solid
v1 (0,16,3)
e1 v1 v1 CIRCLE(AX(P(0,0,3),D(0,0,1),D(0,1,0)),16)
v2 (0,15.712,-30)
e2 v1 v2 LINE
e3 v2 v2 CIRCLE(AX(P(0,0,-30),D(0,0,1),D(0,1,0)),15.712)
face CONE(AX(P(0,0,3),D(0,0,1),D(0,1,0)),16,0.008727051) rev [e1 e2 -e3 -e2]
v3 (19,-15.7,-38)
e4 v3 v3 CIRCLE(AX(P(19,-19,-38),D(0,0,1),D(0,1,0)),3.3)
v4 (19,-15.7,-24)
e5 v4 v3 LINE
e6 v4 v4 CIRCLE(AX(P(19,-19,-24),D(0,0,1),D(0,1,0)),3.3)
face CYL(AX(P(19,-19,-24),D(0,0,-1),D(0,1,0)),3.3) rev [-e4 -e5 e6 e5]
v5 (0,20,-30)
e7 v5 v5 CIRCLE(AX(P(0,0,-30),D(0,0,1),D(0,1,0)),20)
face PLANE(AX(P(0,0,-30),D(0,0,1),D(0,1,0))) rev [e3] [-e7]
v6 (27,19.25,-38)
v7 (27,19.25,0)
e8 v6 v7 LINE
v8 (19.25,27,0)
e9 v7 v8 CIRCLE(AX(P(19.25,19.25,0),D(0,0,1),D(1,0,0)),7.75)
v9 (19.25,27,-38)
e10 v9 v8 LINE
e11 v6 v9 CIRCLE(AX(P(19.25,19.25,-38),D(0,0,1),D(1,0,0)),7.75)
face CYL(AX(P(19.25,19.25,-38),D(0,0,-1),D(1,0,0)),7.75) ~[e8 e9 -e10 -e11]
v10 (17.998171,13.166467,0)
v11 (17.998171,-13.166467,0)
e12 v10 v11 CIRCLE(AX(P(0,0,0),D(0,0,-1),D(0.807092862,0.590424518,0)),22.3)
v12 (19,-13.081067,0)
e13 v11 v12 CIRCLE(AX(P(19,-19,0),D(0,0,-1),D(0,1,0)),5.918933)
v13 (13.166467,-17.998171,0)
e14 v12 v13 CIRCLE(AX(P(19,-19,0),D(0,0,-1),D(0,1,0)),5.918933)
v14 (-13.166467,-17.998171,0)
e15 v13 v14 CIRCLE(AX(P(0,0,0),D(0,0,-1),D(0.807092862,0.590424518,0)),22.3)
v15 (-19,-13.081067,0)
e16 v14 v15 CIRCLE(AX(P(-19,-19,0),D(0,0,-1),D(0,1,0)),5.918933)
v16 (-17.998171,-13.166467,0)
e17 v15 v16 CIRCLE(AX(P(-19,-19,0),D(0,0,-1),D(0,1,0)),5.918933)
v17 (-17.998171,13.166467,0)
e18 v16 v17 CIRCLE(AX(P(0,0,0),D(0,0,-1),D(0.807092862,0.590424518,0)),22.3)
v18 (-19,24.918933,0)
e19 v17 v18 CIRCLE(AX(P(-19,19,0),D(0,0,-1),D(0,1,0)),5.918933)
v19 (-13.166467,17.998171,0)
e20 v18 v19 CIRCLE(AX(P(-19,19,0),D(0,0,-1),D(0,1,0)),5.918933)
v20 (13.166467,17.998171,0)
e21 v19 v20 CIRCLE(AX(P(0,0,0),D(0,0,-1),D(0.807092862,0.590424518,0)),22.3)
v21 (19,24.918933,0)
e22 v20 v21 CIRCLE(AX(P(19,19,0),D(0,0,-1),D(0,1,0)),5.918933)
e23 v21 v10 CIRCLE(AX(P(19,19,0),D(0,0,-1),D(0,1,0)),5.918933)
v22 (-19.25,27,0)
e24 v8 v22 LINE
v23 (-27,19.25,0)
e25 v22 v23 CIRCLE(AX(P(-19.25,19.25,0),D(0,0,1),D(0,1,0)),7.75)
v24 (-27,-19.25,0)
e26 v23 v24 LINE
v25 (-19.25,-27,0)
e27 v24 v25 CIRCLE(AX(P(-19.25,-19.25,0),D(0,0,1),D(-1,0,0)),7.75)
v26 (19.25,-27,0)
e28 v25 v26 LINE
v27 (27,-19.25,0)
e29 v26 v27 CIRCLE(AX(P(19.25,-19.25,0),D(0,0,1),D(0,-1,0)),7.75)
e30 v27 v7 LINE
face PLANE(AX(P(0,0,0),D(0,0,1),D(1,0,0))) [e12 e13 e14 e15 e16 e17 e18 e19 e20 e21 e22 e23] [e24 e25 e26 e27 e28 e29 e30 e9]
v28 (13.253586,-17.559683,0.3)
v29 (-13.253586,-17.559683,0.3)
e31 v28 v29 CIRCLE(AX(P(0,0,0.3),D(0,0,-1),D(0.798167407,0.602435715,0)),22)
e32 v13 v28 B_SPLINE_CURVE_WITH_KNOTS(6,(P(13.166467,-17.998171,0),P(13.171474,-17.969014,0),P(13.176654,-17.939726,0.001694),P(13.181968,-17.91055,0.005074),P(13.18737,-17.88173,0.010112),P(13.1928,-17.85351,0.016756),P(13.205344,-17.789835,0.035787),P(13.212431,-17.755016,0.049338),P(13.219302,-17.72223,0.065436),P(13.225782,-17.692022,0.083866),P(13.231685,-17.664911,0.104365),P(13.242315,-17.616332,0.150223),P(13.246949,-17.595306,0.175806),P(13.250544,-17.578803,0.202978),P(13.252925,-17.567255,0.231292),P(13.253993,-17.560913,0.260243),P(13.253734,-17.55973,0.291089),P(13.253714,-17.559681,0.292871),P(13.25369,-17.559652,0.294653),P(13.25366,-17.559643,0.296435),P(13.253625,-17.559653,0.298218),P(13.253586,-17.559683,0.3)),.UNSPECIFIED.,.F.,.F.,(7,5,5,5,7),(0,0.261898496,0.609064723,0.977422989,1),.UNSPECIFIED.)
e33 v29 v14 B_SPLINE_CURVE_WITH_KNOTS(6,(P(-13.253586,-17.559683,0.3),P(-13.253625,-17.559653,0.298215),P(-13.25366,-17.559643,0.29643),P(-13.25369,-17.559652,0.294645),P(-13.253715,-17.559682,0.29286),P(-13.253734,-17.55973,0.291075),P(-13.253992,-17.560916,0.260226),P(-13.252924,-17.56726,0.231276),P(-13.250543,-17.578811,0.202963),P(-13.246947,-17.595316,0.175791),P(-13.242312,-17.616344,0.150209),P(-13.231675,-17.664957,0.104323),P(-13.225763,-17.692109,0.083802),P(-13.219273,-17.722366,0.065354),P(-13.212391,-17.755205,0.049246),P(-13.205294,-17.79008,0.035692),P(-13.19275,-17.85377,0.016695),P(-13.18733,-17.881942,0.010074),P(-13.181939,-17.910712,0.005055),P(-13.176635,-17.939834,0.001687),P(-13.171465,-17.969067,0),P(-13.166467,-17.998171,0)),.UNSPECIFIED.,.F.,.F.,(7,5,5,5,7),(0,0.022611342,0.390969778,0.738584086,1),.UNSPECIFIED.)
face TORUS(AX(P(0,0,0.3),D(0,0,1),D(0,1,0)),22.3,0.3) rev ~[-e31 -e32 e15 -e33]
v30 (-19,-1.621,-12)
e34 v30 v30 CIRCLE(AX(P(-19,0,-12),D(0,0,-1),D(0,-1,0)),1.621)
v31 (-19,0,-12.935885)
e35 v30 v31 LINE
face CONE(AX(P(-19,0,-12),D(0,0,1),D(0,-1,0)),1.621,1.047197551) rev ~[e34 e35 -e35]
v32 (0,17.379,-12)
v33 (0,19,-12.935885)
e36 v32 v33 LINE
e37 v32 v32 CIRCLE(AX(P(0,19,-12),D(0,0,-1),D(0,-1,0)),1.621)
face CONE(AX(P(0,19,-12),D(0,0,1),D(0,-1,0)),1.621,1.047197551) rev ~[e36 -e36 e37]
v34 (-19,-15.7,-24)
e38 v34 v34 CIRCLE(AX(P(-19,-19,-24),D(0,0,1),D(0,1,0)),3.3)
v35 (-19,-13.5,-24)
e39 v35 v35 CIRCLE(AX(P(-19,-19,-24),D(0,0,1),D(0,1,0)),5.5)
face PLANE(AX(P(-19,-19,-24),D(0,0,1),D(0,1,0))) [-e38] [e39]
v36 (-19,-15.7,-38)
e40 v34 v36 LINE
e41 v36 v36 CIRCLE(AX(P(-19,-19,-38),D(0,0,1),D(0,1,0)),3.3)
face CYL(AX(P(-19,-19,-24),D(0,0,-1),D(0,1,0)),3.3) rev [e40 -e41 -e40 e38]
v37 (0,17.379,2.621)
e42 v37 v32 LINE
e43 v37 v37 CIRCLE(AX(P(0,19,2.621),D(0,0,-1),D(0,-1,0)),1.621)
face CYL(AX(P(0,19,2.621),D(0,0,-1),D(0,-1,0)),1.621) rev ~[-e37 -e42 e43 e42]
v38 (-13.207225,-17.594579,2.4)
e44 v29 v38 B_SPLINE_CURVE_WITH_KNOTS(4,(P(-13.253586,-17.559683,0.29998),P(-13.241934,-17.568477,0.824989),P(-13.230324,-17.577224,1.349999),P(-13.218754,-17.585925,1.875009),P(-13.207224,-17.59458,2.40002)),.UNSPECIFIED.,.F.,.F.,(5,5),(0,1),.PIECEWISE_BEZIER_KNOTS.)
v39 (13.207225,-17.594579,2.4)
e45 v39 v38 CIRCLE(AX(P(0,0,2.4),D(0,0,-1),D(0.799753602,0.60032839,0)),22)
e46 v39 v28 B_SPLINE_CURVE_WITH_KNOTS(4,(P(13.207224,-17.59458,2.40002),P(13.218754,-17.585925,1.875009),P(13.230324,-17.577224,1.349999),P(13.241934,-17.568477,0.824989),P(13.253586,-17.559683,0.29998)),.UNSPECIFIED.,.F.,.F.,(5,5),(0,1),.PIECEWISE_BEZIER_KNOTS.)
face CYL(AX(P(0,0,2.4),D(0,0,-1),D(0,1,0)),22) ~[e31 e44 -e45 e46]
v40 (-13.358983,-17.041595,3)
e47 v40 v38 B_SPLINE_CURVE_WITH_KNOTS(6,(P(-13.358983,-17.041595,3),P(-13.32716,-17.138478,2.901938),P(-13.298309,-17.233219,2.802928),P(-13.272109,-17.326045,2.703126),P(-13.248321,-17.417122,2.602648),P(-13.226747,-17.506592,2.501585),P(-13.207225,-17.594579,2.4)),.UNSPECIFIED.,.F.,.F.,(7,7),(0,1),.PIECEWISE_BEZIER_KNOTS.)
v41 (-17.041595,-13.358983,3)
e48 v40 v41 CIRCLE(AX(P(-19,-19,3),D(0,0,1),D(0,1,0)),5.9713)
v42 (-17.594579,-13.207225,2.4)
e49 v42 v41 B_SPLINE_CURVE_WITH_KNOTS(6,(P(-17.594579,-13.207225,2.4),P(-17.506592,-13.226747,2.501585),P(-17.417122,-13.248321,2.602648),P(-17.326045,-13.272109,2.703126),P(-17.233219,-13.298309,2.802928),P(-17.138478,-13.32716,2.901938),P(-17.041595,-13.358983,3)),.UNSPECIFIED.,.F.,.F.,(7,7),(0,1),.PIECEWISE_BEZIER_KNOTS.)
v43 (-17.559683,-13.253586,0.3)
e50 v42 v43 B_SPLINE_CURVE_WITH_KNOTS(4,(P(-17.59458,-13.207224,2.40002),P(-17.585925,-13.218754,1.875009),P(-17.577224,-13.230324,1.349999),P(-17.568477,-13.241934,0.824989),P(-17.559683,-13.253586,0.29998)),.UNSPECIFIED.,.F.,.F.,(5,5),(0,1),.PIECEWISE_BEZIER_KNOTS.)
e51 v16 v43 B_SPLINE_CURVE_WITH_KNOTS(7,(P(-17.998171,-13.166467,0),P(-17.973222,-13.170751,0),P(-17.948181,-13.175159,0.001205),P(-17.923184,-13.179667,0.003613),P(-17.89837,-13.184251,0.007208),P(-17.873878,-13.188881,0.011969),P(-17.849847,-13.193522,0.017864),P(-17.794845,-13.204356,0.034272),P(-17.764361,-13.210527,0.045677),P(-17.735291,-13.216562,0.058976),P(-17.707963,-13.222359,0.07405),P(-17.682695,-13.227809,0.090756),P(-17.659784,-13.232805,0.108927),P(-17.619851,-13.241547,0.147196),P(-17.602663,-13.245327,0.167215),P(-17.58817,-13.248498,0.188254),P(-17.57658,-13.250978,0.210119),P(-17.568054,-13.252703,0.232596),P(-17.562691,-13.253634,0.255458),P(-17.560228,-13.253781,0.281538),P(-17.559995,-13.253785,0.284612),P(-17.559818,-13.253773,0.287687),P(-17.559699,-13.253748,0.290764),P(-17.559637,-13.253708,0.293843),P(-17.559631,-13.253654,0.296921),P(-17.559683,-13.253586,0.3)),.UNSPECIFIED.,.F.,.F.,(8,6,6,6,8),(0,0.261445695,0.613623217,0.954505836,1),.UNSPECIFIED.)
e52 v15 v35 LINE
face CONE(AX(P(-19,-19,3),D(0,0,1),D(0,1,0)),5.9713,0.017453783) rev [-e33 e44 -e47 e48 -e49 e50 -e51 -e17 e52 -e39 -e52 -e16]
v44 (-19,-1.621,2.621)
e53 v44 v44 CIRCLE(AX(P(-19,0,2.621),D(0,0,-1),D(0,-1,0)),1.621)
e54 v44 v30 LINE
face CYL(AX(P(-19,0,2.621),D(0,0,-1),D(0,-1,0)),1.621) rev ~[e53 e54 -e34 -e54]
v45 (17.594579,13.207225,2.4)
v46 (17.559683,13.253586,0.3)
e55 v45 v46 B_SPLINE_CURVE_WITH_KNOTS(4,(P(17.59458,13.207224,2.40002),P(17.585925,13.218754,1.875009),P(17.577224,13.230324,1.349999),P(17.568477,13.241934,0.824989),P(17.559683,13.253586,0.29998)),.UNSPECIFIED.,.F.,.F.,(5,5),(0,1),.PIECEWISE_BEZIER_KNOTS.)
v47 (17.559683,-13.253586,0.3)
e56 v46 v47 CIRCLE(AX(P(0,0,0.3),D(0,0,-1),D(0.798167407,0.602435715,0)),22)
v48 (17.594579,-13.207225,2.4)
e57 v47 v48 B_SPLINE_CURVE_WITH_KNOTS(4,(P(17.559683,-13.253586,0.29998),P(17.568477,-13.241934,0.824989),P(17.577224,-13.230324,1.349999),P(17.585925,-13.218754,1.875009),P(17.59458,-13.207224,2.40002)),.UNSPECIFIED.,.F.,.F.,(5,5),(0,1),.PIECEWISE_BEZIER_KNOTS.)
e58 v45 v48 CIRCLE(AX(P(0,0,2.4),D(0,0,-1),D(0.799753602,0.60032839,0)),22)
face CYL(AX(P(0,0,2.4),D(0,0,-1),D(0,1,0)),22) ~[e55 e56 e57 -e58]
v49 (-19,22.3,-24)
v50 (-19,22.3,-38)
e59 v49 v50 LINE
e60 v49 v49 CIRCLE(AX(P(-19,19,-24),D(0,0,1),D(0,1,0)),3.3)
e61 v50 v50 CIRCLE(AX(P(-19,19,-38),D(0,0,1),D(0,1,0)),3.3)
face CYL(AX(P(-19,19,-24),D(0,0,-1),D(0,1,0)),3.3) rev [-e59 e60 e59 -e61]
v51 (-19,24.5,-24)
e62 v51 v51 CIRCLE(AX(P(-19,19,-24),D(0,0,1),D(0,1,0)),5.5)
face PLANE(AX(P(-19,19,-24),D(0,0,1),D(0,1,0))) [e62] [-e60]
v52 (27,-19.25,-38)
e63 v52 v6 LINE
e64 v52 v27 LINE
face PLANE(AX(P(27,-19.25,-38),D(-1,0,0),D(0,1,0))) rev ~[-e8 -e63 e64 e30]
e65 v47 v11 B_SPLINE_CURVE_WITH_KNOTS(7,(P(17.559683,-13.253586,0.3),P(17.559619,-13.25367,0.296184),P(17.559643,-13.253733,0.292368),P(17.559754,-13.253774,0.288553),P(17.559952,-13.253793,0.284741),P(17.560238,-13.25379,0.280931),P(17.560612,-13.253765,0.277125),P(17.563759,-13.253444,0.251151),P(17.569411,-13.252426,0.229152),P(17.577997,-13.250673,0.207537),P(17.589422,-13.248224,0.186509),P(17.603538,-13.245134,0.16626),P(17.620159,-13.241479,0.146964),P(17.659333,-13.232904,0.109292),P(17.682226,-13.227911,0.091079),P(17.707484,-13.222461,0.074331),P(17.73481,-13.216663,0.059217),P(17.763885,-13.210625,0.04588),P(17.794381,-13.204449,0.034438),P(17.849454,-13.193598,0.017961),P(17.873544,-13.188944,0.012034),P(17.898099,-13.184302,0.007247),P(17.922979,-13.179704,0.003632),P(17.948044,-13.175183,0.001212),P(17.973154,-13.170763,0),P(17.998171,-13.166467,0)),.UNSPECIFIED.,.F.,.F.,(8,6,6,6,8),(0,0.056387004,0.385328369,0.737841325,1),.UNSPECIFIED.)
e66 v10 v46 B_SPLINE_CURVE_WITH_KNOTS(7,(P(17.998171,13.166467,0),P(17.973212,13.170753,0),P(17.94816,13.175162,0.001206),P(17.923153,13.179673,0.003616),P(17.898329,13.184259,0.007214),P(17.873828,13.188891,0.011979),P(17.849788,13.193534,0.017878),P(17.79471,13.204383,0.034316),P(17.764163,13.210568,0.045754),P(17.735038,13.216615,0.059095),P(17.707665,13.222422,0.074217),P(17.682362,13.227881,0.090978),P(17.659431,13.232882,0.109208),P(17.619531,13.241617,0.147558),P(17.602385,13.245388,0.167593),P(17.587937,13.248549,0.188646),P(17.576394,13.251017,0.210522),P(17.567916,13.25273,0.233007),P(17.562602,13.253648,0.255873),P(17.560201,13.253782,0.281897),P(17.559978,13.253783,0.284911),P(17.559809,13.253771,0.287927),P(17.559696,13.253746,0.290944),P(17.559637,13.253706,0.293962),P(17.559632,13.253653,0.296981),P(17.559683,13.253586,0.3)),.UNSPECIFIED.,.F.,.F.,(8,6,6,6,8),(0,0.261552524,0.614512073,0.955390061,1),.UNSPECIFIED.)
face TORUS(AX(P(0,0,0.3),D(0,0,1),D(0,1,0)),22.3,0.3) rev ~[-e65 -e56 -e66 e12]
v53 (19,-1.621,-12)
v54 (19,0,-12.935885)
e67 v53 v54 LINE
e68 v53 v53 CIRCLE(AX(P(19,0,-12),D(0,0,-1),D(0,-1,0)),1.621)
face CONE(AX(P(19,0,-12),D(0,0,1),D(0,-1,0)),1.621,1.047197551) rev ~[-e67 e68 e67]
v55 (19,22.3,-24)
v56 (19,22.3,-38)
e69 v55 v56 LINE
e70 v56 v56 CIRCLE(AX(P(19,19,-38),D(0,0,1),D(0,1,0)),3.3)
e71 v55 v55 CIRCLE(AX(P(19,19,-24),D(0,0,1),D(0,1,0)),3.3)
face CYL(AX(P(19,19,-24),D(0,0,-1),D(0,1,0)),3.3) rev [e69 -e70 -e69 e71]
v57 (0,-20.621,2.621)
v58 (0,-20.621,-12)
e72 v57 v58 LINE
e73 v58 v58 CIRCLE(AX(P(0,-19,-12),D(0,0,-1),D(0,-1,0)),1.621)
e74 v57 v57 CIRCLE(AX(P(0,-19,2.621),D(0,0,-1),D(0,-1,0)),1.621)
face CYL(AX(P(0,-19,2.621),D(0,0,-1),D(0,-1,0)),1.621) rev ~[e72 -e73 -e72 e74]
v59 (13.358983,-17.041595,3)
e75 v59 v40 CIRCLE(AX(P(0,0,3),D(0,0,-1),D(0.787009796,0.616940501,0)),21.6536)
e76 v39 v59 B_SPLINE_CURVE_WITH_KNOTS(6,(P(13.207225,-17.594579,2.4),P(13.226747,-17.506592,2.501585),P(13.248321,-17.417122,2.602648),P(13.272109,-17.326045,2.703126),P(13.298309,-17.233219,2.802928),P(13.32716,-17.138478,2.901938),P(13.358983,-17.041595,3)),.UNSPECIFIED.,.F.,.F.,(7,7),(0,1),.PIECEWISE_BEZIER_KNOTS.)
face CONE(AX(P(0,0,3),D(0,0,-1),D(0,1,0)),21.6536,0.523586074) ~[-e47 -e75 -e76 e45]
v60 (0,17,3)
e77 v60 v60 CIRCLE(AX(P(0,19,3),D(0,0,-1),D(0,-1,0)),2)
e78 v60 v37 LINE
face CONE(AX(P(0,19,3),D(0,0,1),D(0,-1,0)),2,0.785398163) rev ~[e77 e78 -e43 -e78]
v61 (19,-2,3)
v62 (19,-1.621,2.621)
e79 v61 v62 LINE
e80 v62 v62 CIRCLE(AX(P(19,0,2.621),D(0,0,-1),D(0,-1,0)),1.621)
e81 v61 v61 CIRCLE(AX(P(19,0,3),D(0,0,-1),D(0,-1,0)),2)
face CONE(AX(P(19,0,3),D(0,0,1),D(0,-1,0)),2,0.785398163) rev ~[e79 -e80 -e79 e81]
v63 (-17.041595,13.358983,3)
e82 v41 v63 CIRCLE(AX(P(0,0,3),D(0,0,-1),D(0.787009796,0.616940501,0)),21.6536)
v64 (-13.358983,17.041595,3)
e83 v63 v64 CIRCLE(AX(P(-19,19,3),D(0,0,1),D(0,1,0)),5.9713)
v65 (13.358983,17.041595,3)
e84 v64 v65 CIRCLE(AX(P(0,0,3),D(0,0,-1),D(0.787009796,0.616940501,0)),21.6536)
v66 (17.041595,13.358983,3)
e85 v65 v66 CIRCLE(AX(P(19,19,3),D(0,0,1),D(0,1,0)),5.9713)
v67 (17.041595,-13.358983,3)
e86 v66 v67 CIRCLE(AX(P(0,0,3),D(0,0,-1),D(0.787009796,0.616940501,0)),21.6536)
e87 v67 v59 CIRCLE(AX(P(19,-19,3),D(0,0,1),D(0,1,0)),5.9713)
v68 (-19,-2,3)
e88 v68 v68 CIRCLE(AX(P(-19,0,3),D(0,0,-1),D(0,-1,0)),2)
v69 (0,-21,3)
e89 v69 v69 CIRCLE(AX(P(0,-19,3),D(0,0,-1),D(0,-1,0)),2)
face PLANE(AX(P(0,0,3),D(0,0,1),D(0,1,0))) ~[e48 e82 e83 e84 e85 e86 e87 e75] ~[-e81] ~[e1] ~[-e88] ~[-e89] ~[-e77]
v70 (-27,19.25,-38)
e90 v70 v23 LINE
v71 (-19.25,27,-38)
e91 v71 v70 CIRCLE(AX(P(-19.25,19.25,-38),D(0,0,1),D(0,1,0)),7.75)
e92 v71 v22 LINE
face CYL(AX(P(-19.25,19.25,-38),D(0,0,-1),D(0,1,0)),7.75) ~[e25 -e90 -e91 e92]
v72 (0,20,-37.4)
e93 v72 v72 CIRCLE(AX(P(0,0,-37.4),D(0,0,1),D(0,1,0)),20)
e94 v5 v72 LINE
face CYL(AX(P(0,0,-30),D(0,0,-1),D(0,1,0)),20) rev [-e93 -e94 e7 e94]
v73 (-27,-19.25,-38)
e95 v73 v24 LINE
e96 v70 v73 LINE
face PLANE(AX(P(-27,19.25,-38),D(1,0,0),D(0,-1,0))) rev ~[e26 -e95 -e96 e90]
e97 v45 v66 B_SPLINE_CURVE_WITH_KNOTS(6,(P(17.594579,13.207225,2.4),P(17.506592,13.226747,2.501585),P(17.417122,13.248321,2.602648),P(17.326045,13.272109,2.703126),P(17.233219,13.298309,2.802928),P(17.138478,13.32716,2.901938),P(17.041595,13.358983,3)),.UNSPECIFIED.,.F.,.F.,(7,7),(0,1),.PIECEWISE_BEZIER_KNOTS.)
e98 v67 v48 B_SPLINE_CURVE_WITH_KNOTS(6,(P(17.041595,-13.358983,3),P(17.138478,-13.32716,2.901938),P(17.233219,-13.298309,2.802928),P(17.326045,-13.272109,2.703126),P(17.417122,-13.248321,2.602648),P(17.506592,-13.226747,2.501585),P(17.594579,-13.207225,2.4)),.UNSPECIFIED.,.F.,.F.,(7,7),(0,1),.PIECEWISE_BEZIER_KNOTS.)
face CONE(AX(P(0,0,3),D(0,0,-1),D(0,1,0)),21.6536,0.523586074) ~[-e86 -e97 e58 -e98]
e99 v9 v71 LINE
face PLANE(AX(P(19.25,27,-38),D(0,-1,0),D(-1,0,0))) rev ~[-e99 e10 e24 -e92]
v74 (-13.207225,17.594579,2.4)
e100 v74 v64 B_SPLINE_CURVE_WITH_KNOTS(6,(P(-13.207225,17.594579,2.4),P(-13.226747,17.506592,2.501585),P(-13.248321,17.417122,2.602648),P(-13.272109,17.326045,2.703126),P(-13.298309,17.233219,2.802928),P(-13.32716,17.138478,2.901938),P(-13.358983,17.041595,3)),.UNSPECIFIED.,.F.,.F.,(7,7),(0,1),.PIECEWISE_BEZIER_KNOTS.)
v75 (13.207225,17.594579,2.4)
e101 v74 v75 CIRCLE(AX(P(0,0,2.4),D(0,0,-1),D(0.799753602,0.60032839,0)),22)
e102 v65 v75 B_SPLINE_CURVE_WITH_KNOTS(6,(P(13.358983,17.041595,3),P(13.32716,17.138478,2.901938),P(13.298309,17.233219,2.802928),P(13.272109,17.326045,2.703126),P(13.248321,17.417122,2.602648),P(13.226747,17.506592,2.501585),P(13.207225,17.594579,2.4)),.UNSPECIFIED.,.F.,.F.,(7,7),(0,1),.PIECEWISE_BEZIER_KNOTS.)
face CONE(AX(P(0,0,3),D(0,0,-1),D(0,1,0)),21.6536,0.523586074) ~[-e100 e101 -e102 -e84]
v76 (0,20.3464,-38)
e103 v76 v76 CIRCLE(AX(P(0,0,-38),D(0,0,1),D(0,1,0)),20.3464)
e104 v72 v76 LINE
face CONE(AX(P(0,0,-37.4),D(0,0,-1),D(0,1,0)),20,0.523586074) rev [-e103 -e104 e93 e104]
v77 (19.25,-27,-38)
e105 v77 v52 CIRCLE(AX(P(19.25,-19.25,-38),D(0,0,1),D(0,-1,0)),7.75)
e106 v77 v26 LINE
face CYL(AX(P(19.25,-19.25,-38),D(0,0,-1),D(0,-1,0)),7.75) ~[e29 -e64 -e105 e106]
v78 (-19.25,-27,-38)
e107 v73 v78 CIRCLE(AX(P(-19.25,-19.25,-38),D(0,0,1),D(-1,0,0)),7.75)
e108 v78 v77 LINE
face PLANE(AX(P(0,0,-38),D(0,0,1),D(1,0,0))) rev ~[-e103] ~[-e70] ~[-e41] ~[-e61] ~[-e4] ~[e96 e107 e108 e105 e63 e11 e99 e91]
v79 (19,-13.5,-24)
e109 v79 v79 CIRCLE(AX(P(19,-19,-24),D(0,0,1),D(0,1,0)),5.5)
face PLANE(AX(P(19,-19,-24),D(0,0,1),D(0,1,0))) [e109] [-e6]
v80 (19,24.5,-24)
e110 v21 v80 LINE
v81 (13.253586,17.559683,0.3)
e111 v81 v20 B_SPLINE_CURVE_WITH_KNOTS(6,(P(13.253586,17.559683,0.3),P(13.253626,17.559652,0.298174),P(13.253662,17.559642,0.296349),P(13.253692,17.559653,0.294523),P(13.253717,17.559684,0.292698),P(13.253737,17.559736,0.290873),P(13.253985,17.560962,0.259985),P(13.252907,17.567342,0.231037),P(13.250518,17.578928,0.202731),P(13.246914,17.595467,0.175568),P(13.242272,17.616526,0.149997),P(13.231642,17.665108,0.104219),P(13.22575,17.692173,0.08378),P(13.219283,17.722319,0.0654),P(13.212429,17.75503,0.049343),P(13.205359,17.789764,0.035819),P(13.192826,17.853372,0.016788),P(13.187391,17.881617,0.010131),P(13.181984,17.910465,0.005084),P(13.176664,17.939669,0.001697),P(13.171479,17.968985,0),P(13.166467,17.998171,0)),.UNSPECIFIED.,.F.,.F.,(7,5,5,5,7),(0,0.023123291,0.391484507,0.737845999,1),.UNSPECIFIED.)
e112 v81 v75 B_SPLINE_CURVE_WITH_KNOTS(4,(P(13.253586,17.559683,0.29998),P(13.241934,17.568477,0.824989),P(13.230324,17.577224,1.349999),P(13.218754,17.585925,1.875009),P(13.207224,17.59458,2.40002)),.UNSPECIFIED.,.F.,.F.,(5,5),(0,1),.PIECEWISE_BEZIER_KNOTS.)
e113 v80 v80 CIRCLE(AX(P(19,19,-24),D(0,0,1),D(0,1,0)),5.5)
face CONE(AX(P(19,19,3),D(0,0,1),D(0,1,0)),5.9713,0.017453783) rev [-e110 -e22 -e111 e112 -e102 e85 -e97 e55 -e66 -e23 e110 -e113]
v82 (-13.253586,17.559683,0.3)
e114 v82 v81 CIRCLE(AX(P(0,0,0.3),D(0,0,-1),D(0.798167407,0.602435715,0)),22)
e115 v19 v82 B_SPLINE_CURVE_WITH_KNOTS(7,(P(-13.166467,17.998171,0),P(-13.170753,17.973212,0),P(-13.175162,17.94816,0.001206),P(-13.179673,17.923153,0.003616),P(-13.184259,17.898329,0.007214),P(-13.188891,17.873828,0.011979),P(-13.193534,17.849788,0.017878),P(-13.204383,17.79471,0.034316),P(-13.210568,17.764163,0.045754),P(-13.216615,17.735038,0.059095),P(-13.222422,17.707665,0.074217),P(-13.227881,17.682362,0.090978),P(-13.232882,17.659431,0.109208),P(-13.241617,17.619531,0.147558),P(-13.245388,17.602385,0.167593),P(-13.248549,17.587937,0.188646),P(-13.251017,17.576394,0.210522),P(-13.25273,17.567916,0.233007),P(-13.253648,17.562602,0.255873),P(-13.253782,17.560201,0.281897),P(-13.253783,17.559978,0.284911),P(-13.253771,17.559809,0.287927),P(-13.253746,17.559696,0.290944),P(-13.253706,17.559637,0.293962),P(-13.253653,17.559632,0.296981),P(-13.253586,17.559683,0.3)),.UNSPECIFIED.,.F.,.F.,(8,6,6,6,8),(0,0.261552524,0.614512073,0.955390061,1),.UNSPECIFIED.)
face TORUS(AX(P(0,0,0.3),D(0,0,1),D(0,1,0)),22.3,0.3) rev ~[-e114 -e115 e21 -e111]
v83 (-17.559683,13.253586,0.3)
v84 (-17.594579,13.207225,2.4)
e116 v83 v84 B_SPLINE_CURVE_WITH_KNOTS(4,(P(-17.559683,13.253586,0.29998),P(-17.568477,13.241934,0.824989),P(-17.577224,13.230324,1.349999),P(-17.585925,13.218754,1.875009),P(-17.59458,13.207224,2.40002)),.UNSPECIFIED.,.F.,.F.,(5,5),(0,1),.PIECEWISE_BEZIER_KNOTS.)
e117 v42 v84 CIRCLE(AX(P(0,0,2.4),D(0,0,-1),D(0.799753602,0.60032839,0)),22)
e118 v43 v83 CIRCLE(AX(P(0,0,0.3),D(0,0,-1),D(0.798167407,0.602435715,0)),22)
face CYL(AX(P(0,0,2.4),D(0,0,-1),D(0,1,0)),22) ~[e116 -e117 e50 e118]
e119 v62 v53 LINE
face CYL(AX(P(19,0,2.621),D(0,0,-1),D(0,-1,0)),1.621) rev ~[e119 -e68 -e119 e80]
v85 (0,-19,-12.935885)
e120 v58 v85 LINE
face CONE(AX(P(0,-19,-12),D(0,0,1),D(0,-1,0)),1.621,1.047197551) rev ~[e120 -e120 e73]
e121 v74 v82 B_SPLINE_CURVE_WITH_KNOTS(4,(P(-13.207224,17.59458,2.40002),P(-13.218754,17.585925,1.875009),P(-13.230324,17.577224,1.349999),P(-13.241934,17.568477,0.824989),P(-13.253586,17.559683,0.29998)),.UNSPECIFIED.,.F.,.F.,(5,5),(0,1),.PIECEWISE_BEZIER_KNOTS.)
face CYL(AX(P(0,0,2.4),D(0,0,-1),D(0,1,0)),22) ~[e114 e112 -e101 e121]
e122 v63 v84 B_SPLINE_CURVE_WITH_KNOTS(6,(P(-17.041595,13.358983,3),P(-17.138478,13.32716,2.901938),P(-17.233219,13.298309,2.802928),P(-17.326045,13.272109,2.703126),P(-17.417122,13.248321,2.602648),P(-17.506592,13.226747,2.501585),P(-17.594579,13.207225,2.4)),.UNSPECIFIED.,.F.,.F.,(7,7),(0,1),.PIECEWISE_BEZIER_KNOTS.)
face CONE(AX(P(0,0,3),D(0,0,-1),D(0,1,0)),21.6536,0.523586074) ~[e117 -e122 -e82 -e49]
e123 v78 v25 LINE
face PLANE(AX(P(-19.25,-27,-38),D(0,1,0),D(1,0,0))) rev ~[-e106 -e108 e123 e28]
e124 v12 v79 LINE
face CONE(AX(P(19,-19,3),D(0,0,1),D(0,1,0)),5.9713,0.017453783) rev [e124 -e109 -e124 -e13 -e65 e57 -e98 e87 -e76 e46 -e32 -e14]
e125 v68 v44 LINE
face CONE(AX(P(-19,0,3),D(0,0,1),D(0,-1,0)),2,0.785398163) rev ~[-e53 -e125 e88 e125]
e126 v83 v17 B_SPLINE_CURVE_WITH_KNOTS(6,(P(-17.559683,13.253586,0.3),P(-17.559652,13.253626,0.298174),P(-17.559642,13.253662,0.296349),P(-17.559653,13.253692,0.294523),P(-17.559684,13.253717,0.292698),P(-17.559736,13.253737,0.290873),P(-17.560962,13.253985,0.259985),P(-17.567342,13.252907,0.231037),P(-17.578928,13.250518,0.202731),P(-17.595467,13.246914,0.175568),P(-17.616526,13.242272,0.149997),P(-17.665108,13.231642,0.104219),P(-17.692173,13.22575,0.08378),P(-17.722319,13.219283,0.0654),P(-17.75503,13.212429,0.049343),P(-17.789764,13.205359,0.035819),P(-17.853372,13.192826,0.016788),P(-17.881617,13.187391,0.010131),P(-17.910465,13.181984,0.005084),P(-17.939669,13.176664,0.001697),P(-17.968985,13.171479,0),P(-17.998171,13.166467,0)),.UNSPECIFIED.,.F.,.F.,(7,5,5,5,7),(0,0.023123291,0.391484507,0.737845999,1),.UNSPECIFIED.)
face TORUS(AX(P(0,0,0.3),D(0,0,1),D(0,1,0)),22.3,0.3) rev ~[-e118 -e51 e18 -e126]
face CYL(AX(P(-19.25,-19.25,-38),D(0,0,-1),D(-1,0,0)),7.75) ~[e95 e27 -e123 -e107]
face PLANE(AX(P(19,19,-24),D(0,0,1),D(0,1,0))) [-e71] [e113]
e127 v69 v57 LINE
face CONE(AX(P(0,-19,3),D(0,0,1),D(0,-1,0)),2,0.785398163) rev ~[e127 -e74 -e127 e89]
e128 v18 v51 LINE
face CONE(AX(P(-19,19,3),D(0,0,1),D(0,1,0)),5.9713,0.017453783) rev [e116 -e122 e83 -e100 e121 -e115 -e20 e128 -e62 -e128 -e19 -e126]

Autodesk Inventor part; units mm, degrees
sketch "Skizze_1" plane through (0, 0, -38) normal (0, 0, 1) x (1, 0, 0)
  line L0 (-27, 19.25) -> (-27, -19.25)
  arc A0 (-27, -19.25) -> (-19.25, -27) centre (-19.25, -19.25) ccw
  line L1 (-19.25, -27) -> (19.25, -27)
  arc A1 (19.25, -27) -> (27, -19.25) centre (19.25, -19.25) ccw
  line L2 (27, -19.25) -> (27, 19.25)
  arc A2 (27, 19.25) -> (19.25, 27) centre (19.25, 19.25) ccw
  line L3 (19.25, 27) -> (-19.25, 27)
  arc A3 (-19.25, 27) -> (-27, 19.25) centre (-19.25, 19.25) ccw
extrude "Extrusion1" add sketch "Skizze_1" along normal blind 38
sketch "Skizze_2" plane through (0, 0, 0) normal (1, 0, 0) x (0, 1, 0)
  line L0 (0, 0) -> (0, 3)
  line L1 (0, 3) -> (21.6536, 3)
  line L2 (21.6536, 3) -> (22, 2.4)
  line L3 (22, 2.4) -> (22, 0.3)
  arc A0 (22, 0.3) -> (22.3, 0) centre (22.3, 0.3) ccw
  line L4 (22.3, 0) -> (0, 0)
  line L5 (0, 0) -> (0, 3)
revolve "Revolution1" add sketch "Skizze_2" angle 360 about axis through (0, 0, 0) along (0, 0, 1)
sketch "Skizze_3" plane through (0, 0, 0) normal (1, 0, 0) x (0, 1, 0)
  line L0 (0, -38) -> (0, 3)
  line L1 (0, 3) -> (16, 3)
  line L2 (16, 3) -> (15.712, -30)
  line L3 (15.712, -30) -> (20, -30)
  line L4 (20, -30) -> (20, -37.4)
  line L5 (20, -37.4) -> (20.3464, -38)
  line L6 (20.3464, -38) -> (0, -38)
  line L7 (0, -38) -> (0, 3)
revolve "Revolution2" cut sketch "Skizze_3" angle 360 about axis through (0, 0, -38) along (0, 0, 1)
sketch "Sketch4" plane through (0, 0, 3) normal (0, 0, 1) x (1, 0, 0)
  point P0 (0, 19)
hole "Hole1" at (0, 19, 3) direction (0, 0, -1) diameter 3.242 depth 15 tip angle 120 countersink diameter 4 countersink angle 90 thread size "M4x0.7" class "6H" standard "ISO Metric profile"
sketch "Sketch5" plane through (0, 0, 3) normal (0, 0, 1) x (1, 0, 0)
  point P0 (0, -19)
hole "Hole2" at (0, -19, 3) direction (0, 0, -1) diameter 3.242 depth 15 tip angle 120 countersink diameter 4 countersink angle 90 thread size "M4x0.7" class "6H" standard "ISO Metric profile"
sketch "Sketch6" plane through (0, 0, 3) normal (0, 0, 1) x (1, 0, 0)
  point P0 (19, 0)
hole "Hole3" at (19, 0, 3) direction (0, 0, -1) diameter 3.242 depth 15 tip angle 120 countersink diameter 4 countersink angle 90 thread size "M4x0.7" class "6H" standard "ISO Metric profile"
sketch "Sketch7" plane through (0, 0, 3) normal (0, 0, 1) x (1, 0, 0)
  point P0 (-19, 0)
hole "Hole4" at (-19, 0, 3) direction (0, 0, -1) diameter 3.242 depth 15 tip angle 120 countersink diameter 4 countersink angle 90 thread size "M4x0.7" class "6H" standard "ISO Metric profile"
sketch "Skizze_8" plane through (19, 0, 0) normal (1, 0, 0) x (0, 0, -1)
  line L0 (38, 19) -> (-3, 19)
  line L1 (-3, 19) -> (-3, 24.9713)
  line L2 (-3, 24.9713) -> (24, 24.5)
  line L3 (24, 24.5) -> (24, 22.3)
  line L4 (24, 22.3) -> (38, 22.3)
  line L5 (38, 22.3) -> (38, 19)
  line L6 (38, 19) -> (-3, 19)
revolve "Revolution3" cut sketch "Skizze_8" angle 360 about axis through (19, 19, -38) along (0, 0, 1)
sketch "Skizze_9" plane through (19, 0, 0) normal (1, 0, 0) x (0, 0, -1)
  line L0 (38, -19) -> (-3, -19)
  line L1 (-3, -19) -> (-3, -13.0287)
  line L2 (-3, -13.0287) -> (24, -13.5)
  line L3 (24, -13.5) -> (24, -15.7)
  line L4 (24, -15.7) -> (38, -15.7)
  line L5 (38, -15.7) -> (38, -19)
  line L6 (38, -19) -> (-3, -19)
revolve "Revolution4" cut sketch "Skizze_9" angle 360 about axis through (19, -19, -38) along (0, 0, 1)
sketch "Skizze_10" plane through (-19, 0, 0) normal (1, 0, 0) x (0, 0, -1)
  line L0 (38, 19) -> (-3, 19)
  line L1 (-3, 19) -> (-3, 24.9713)
  line L2 (-3, 24.9713) -> (24, 24.5)
  line L3 (24, 24.5) -> (24, 22.3)
  line L4 (24, 22.3) -> (38, 22.3)
  line L5 (38, 22.3) -> (38, 19)
  line L6 (38, 19) -> (-3, 19)
revolve "Revolution5" cut sketch "Skizze_10" angle 360 about axis through (-19, 19, -38) along (0, 0, 1)
sketch "Skizze_11" plane through (-19, 0, 0) normal (1, 0, 0) x (0, 0, -1)
  line L0 (38, -19) -> (-3, -19)
  line L1 (-3, -19) -> (-3, -13.0287)
  line L2 (-3, -13.0287) -> (24, -13.5)
  line L3 (24, -13.5) -> (24, -15.7)
  line L4 (24, -15.7) -> (38, -15.7)
  line L5 (38, -15.7) -> (38, -19)
  line L6 (38, -19) -> (-3, -19)
revolve "Revolution6" cut sketch "Skizze_11" angle 360 about axis through (-19, -19, -38) along (0, 0, 1)
ref_plane "ADAPTER_XY" through (0, 0, -38) normal (0, 0, 1) x (1, 0, 0)
ref_plane "ADAPTER_YZ" through (0, 0, -38) normal (1, 0, 0) x (0, 1, 0)
ref_plane "ADAPTER_ZX" through (0, 0, -38) normal (0, 1, 0) x (0, 0, 1)
ref_plane "ANBAU_XY" through (0, 0, -38) normal (0, 0, 1) x (1, 0, 0)
ref_plane "ANBAU_YZ" through (0, 0, -38) normal (1, 0, 0) x (0, 1, 0)
ref_plane "ANBAU_ZX" through (0, 0, -38) normal (0, 1, 0) x (0, 0, 1)
ref_plane "ANBAU_1_XY" through (0, 0, 3) normal (0, 0, 1) x (1, 0, 0)
ref_plane "ANBAU_1_YZ" through (0, 0, 3) normal (1, 0, 0) x (0, 1, 0)
ref_plane "ANBAU_1_ZX" through (0, 0, 3) normal (0, 1, 0) x (0, 0, 1)
ref_plane "EAMK_XY" through (0, 0, -38) normal (0, 0, 1) x (1, 0, 0)
ref_plane "EAMK_YZ" through (0, 0, -38) normal (1, 0, 0) x (0, 1, 0)
ref_plane "EAMK_ZX" through (0, 0, -38) normal (0, 1, 0) x (0, 0, 1)
ref_plane "Kupplung_XY" through (0, 0, -29.6) normal (0, 0, -1) x (1, 0, 0)
ref_plane "Kupplung_YZ" through (0, 0, -29.6) normal (1, 0, 0) x (0, -1, 0)
ref_plane "Kupplung_ZX" through (0, 0, -29.6) normal (0, -1, 0) x (0, 0, -1)
ref_plane "MOTORFLANSCH_XY" through (0, 0, 0) normal (0, 0, 1) x (1, 0, 0)
ref_plane "MOTORFLANSCH_YZ" through (0, 0, 0) normal (1, 0, 0) x (0, 1, 0)
ref_plane "MOTORFLANSCH_ZX" through (0, 0, 0) normal (0, 1, 0) x (0, 0, 1)
ref_plane "ZYL_SCHRAUBE_1_1_XY" through (-19, 19, -24) normal (0, 0, 1) x (1, 0, 0)
ref_plane "ZYL_SCHRAUBE_1_1_YZ" through (-19, 19, -24) normal (1, 0, 0) x (0, 1, 0)
ref_plane "ZYL_SCHRAUBE_1_1_ZX" through (-19, 19, -24) normal (0, 1, 0) x (0, 0, 1)
ref_plane "ZYL_SCHRAUBE_1_2_XY" through (19, 19, -24) normal (0, 0, 1) x (1, 0, 0)
ref_plane "ZYL_SCHRAUBE_1_2_YZ" through (19, 19, -24) normal (1, 0, 0) x (0, 1, 0)
ref_plane "ZYL_SCHRAUBE_1_2_ZX" through (19, 19, -24) normal (0, 1, 0) x (0, 0, 1)
ref_plane "ZYL_SCHRAUBE_1_3_XY" through (19, -19, -24) normal (0, 0, 1) x (1, 0, 0)
ref_plane "ZYL_SCHRAUBE_1_3_YZ" through (19, -19, -24) normal (1, 0, 0) x (0, 1, 0)
ref_plane "ZYL_SCHRAUBE_1_3_ZX" through (19, -19, -24) normal (0, 1, 0) x (0, 0, 1)
ref_plane "ZYL_SCHRAUBE_1_4_XY" through (-19, -19, -24) normal (0, 0, 1) x (1, 0, 0)
ref_plane "ZYL_SCHRAUBE_1_4_YZ" through (-19, -19, -24) normal (1, 0, 0) x (0, 1, 0)
ref_plane "ZYL_SCHRAUBE_1_4_ZX" through (-19, -19, -24) normal (0, 1, 0) x (0, 0, 1)
ref_plane "ZYL_SCHRAUBE_2_1_XY" through (22.2739, 22.2739, 0) normal (0, 0, 1) x (1, 0, 0)
ref_plane "ZYL_SCHRAUBE_2_1_YZ" through (22.2739, 22.2739, 0) normal (1, 0, 0) x (0, 1, 0)
ref_plane "ZYL_SCHRAUBE_2_1_ZX" through (22.2739, 22.2739, 0) normal (0, 1, 0) x (0, 0, 1)
ref_plane "ZYL_SCHRAUBE_2_2_XY" through (-22.2739, 22.2739, 0) normal (0, 0, 1) x (1, 0, 0)
ref_plane "ZYL_SCHRAUBE_2_2_YZ" through (-22.2739, 22.2739, 0) normal (1, 0, 0) x (0, 1, 0)
ref_plane "ZYL_SCHRAUBE_2_2_ZX" through (-22.2739, 22.2739, 0) normal (0, 1, 0) x (0, 0, 1)
ref_plane "ZYL_SCHRAUBE_2_3_XY" through (-22.2739, -22.2739, 0) normal (0, 0, 1) x (1, 0, 0)
ref_plane "ZYL_SCHRAUBE_2_3_YZ" through (-22.2739, -22.2739, 0) normal (1, 0, 0) x (0, 1, 0)
ref_plane "ZYL_SCHRAUBE_2_3_ZX" through (-22.2739, -22.2739, 0) normal (0, 1, 0) x (0, 0, 1)
ref_plane "ZYL_SCHRAUBE_2_4_XY" through (22.2739, -22.2739, 0) normal (0, 0, 1) x (1, 0, 0)
ref_plane "ZYL_SCHRAUBE_2_4_YZ" through (22.2739, -22.2739, 0) normal (1, 0, 0) x (0, 1, 0)
ref_plane "ZYL_SCHRAUBE_2_4_ZX" through (22.2739, -22.2739, 0) normal (0, 1, 0) x (0, 0, 1)
ref_plane "ZYL_SCHRAUBE_2x_1_XY" through (23.57, 23.57, 0) normal (0, 0, 1) x (1, 0, 0)
ref_plane "ZYL_SCHRAUBE_2x_1_YZ" through (23.57, 23.57, 0) normal (1, 0, 0) x (0, 1, 0)
ref_plane "ZYL_SCHRAUBE_2x_1_ZX" through (23.57, 23.57, 0) normal (0, 1, 0) x (0, 0, 1)
ref_plane "ZYL_SCHRAUBE_2x_2_XY" through (-23.57, 23.57, 0) normal (0, 0, 1) x (1, 0, 0)
ref_plane "ZYL_SCHRAUBE_2x_2_YZ" through (-23.57, 23.57, 0) normal (1, 0, 0) x (0, 1, 0)
ref_plane "ZYL_SCHRAUBE_2x_2_ZX" through (-23.57, 23.57, 0) normal (0, 1, 0) x (0, 0, 1)
ref_plane "ZYL_SCHRAUBE_2x_3_XY" through (-23.57, -23.57, 0) normal (0, 0, 1) x (1, 0, 0)
ref_plane "ZYL_SCHRAUBE_2x_3_YZ" through (-23.57, -23.57, 0) normal (1, 0, 0) x (0, 1, 0)
ref_plane "ZYL_SCHRAUBE_2x_3_ZX" through (-23.57, -23.57, 0) normal (0, 1, 0) x (0, 0, 1)
ref_plane "ZYL_SCHRAUBE_2x_4_XY" through (23.57, -23.57, 0) normal (0, 0, 1) x (1, 0, 0)
ref_plane "ZYL_SCHRAUBE_2x_4_YZ" through (23.57, -23.57, 0) normal (1, 0, 0) x (0, 1, 0)
ref_plane "ZYL_SCHRAUBE_2x_4_ZX" through (23.57, -23.57, 0) normal (0, 1, 0) x (0, 0, 1)
ref_plane "ZYL_SCHRAUBE_3_1_XY" through (19, 0, 4.7) normal (0, 0, 1) x (1, 0, 0)
ref_plane "ZYL_SCHRAUBE_3_1_YZ" through (19, 0, 4.7) normal (1, 0, 0) x (0, 1, 0)
ref_plane "ZYL_SCHRAUBE_3_1_ZX" through (19, 0, 4.7) normal (0, 1, 0) x (0, 0, 1)
ref_plane "ZYL_SCHRAUBE_3_2_XY" through (0, -19, 4.7) normal (0, 0, 1) x (1, 0, 0)
ref_plane "ZYL_SCHRAUBE_3_2_YZ" through (0, -19, 4.7) normal (1, 0, 0) x (0, 1, 0)
ref_plane "ZYL_SCHRAUBE_3_2_ZX" through (0, -19, 4.7) normal (0, 1, 0) x (0, 0, 1)
ref_plane "ZYL_SCHRAUBE_3_3_XY" through (-19, 0, 4.7) normal (0, 0, 1) x (1, 0, 0)
ref_plane "ZYL_SCHRAUBE_3_3_YZ" through (-19, 0, 4.7) normal (1, 0, 0) x (0, 1, 0)
ref_plane "ZYL_SCHRAUBE_3_3_ZX" through (-19, 0, 4.7) normal (0, 1, 0) x (0, 0, 1)
ref_plane "to_eamf_XY" through (0, 0, 0.5) normal (0, 0, 1) x (1, 0, 0)
ref_plane "to_eamf_YZ" through (0, 0, 0.5) normal (1, 0, 0) x (0, 1, 0)
ref_plane "to_eamf_ZX" through (0, 0, 0.5) normal (0, 1, 0) x (0, 0, 1)
properties part number "552157 EAMK-A-D40-44A/C---(1O)"
